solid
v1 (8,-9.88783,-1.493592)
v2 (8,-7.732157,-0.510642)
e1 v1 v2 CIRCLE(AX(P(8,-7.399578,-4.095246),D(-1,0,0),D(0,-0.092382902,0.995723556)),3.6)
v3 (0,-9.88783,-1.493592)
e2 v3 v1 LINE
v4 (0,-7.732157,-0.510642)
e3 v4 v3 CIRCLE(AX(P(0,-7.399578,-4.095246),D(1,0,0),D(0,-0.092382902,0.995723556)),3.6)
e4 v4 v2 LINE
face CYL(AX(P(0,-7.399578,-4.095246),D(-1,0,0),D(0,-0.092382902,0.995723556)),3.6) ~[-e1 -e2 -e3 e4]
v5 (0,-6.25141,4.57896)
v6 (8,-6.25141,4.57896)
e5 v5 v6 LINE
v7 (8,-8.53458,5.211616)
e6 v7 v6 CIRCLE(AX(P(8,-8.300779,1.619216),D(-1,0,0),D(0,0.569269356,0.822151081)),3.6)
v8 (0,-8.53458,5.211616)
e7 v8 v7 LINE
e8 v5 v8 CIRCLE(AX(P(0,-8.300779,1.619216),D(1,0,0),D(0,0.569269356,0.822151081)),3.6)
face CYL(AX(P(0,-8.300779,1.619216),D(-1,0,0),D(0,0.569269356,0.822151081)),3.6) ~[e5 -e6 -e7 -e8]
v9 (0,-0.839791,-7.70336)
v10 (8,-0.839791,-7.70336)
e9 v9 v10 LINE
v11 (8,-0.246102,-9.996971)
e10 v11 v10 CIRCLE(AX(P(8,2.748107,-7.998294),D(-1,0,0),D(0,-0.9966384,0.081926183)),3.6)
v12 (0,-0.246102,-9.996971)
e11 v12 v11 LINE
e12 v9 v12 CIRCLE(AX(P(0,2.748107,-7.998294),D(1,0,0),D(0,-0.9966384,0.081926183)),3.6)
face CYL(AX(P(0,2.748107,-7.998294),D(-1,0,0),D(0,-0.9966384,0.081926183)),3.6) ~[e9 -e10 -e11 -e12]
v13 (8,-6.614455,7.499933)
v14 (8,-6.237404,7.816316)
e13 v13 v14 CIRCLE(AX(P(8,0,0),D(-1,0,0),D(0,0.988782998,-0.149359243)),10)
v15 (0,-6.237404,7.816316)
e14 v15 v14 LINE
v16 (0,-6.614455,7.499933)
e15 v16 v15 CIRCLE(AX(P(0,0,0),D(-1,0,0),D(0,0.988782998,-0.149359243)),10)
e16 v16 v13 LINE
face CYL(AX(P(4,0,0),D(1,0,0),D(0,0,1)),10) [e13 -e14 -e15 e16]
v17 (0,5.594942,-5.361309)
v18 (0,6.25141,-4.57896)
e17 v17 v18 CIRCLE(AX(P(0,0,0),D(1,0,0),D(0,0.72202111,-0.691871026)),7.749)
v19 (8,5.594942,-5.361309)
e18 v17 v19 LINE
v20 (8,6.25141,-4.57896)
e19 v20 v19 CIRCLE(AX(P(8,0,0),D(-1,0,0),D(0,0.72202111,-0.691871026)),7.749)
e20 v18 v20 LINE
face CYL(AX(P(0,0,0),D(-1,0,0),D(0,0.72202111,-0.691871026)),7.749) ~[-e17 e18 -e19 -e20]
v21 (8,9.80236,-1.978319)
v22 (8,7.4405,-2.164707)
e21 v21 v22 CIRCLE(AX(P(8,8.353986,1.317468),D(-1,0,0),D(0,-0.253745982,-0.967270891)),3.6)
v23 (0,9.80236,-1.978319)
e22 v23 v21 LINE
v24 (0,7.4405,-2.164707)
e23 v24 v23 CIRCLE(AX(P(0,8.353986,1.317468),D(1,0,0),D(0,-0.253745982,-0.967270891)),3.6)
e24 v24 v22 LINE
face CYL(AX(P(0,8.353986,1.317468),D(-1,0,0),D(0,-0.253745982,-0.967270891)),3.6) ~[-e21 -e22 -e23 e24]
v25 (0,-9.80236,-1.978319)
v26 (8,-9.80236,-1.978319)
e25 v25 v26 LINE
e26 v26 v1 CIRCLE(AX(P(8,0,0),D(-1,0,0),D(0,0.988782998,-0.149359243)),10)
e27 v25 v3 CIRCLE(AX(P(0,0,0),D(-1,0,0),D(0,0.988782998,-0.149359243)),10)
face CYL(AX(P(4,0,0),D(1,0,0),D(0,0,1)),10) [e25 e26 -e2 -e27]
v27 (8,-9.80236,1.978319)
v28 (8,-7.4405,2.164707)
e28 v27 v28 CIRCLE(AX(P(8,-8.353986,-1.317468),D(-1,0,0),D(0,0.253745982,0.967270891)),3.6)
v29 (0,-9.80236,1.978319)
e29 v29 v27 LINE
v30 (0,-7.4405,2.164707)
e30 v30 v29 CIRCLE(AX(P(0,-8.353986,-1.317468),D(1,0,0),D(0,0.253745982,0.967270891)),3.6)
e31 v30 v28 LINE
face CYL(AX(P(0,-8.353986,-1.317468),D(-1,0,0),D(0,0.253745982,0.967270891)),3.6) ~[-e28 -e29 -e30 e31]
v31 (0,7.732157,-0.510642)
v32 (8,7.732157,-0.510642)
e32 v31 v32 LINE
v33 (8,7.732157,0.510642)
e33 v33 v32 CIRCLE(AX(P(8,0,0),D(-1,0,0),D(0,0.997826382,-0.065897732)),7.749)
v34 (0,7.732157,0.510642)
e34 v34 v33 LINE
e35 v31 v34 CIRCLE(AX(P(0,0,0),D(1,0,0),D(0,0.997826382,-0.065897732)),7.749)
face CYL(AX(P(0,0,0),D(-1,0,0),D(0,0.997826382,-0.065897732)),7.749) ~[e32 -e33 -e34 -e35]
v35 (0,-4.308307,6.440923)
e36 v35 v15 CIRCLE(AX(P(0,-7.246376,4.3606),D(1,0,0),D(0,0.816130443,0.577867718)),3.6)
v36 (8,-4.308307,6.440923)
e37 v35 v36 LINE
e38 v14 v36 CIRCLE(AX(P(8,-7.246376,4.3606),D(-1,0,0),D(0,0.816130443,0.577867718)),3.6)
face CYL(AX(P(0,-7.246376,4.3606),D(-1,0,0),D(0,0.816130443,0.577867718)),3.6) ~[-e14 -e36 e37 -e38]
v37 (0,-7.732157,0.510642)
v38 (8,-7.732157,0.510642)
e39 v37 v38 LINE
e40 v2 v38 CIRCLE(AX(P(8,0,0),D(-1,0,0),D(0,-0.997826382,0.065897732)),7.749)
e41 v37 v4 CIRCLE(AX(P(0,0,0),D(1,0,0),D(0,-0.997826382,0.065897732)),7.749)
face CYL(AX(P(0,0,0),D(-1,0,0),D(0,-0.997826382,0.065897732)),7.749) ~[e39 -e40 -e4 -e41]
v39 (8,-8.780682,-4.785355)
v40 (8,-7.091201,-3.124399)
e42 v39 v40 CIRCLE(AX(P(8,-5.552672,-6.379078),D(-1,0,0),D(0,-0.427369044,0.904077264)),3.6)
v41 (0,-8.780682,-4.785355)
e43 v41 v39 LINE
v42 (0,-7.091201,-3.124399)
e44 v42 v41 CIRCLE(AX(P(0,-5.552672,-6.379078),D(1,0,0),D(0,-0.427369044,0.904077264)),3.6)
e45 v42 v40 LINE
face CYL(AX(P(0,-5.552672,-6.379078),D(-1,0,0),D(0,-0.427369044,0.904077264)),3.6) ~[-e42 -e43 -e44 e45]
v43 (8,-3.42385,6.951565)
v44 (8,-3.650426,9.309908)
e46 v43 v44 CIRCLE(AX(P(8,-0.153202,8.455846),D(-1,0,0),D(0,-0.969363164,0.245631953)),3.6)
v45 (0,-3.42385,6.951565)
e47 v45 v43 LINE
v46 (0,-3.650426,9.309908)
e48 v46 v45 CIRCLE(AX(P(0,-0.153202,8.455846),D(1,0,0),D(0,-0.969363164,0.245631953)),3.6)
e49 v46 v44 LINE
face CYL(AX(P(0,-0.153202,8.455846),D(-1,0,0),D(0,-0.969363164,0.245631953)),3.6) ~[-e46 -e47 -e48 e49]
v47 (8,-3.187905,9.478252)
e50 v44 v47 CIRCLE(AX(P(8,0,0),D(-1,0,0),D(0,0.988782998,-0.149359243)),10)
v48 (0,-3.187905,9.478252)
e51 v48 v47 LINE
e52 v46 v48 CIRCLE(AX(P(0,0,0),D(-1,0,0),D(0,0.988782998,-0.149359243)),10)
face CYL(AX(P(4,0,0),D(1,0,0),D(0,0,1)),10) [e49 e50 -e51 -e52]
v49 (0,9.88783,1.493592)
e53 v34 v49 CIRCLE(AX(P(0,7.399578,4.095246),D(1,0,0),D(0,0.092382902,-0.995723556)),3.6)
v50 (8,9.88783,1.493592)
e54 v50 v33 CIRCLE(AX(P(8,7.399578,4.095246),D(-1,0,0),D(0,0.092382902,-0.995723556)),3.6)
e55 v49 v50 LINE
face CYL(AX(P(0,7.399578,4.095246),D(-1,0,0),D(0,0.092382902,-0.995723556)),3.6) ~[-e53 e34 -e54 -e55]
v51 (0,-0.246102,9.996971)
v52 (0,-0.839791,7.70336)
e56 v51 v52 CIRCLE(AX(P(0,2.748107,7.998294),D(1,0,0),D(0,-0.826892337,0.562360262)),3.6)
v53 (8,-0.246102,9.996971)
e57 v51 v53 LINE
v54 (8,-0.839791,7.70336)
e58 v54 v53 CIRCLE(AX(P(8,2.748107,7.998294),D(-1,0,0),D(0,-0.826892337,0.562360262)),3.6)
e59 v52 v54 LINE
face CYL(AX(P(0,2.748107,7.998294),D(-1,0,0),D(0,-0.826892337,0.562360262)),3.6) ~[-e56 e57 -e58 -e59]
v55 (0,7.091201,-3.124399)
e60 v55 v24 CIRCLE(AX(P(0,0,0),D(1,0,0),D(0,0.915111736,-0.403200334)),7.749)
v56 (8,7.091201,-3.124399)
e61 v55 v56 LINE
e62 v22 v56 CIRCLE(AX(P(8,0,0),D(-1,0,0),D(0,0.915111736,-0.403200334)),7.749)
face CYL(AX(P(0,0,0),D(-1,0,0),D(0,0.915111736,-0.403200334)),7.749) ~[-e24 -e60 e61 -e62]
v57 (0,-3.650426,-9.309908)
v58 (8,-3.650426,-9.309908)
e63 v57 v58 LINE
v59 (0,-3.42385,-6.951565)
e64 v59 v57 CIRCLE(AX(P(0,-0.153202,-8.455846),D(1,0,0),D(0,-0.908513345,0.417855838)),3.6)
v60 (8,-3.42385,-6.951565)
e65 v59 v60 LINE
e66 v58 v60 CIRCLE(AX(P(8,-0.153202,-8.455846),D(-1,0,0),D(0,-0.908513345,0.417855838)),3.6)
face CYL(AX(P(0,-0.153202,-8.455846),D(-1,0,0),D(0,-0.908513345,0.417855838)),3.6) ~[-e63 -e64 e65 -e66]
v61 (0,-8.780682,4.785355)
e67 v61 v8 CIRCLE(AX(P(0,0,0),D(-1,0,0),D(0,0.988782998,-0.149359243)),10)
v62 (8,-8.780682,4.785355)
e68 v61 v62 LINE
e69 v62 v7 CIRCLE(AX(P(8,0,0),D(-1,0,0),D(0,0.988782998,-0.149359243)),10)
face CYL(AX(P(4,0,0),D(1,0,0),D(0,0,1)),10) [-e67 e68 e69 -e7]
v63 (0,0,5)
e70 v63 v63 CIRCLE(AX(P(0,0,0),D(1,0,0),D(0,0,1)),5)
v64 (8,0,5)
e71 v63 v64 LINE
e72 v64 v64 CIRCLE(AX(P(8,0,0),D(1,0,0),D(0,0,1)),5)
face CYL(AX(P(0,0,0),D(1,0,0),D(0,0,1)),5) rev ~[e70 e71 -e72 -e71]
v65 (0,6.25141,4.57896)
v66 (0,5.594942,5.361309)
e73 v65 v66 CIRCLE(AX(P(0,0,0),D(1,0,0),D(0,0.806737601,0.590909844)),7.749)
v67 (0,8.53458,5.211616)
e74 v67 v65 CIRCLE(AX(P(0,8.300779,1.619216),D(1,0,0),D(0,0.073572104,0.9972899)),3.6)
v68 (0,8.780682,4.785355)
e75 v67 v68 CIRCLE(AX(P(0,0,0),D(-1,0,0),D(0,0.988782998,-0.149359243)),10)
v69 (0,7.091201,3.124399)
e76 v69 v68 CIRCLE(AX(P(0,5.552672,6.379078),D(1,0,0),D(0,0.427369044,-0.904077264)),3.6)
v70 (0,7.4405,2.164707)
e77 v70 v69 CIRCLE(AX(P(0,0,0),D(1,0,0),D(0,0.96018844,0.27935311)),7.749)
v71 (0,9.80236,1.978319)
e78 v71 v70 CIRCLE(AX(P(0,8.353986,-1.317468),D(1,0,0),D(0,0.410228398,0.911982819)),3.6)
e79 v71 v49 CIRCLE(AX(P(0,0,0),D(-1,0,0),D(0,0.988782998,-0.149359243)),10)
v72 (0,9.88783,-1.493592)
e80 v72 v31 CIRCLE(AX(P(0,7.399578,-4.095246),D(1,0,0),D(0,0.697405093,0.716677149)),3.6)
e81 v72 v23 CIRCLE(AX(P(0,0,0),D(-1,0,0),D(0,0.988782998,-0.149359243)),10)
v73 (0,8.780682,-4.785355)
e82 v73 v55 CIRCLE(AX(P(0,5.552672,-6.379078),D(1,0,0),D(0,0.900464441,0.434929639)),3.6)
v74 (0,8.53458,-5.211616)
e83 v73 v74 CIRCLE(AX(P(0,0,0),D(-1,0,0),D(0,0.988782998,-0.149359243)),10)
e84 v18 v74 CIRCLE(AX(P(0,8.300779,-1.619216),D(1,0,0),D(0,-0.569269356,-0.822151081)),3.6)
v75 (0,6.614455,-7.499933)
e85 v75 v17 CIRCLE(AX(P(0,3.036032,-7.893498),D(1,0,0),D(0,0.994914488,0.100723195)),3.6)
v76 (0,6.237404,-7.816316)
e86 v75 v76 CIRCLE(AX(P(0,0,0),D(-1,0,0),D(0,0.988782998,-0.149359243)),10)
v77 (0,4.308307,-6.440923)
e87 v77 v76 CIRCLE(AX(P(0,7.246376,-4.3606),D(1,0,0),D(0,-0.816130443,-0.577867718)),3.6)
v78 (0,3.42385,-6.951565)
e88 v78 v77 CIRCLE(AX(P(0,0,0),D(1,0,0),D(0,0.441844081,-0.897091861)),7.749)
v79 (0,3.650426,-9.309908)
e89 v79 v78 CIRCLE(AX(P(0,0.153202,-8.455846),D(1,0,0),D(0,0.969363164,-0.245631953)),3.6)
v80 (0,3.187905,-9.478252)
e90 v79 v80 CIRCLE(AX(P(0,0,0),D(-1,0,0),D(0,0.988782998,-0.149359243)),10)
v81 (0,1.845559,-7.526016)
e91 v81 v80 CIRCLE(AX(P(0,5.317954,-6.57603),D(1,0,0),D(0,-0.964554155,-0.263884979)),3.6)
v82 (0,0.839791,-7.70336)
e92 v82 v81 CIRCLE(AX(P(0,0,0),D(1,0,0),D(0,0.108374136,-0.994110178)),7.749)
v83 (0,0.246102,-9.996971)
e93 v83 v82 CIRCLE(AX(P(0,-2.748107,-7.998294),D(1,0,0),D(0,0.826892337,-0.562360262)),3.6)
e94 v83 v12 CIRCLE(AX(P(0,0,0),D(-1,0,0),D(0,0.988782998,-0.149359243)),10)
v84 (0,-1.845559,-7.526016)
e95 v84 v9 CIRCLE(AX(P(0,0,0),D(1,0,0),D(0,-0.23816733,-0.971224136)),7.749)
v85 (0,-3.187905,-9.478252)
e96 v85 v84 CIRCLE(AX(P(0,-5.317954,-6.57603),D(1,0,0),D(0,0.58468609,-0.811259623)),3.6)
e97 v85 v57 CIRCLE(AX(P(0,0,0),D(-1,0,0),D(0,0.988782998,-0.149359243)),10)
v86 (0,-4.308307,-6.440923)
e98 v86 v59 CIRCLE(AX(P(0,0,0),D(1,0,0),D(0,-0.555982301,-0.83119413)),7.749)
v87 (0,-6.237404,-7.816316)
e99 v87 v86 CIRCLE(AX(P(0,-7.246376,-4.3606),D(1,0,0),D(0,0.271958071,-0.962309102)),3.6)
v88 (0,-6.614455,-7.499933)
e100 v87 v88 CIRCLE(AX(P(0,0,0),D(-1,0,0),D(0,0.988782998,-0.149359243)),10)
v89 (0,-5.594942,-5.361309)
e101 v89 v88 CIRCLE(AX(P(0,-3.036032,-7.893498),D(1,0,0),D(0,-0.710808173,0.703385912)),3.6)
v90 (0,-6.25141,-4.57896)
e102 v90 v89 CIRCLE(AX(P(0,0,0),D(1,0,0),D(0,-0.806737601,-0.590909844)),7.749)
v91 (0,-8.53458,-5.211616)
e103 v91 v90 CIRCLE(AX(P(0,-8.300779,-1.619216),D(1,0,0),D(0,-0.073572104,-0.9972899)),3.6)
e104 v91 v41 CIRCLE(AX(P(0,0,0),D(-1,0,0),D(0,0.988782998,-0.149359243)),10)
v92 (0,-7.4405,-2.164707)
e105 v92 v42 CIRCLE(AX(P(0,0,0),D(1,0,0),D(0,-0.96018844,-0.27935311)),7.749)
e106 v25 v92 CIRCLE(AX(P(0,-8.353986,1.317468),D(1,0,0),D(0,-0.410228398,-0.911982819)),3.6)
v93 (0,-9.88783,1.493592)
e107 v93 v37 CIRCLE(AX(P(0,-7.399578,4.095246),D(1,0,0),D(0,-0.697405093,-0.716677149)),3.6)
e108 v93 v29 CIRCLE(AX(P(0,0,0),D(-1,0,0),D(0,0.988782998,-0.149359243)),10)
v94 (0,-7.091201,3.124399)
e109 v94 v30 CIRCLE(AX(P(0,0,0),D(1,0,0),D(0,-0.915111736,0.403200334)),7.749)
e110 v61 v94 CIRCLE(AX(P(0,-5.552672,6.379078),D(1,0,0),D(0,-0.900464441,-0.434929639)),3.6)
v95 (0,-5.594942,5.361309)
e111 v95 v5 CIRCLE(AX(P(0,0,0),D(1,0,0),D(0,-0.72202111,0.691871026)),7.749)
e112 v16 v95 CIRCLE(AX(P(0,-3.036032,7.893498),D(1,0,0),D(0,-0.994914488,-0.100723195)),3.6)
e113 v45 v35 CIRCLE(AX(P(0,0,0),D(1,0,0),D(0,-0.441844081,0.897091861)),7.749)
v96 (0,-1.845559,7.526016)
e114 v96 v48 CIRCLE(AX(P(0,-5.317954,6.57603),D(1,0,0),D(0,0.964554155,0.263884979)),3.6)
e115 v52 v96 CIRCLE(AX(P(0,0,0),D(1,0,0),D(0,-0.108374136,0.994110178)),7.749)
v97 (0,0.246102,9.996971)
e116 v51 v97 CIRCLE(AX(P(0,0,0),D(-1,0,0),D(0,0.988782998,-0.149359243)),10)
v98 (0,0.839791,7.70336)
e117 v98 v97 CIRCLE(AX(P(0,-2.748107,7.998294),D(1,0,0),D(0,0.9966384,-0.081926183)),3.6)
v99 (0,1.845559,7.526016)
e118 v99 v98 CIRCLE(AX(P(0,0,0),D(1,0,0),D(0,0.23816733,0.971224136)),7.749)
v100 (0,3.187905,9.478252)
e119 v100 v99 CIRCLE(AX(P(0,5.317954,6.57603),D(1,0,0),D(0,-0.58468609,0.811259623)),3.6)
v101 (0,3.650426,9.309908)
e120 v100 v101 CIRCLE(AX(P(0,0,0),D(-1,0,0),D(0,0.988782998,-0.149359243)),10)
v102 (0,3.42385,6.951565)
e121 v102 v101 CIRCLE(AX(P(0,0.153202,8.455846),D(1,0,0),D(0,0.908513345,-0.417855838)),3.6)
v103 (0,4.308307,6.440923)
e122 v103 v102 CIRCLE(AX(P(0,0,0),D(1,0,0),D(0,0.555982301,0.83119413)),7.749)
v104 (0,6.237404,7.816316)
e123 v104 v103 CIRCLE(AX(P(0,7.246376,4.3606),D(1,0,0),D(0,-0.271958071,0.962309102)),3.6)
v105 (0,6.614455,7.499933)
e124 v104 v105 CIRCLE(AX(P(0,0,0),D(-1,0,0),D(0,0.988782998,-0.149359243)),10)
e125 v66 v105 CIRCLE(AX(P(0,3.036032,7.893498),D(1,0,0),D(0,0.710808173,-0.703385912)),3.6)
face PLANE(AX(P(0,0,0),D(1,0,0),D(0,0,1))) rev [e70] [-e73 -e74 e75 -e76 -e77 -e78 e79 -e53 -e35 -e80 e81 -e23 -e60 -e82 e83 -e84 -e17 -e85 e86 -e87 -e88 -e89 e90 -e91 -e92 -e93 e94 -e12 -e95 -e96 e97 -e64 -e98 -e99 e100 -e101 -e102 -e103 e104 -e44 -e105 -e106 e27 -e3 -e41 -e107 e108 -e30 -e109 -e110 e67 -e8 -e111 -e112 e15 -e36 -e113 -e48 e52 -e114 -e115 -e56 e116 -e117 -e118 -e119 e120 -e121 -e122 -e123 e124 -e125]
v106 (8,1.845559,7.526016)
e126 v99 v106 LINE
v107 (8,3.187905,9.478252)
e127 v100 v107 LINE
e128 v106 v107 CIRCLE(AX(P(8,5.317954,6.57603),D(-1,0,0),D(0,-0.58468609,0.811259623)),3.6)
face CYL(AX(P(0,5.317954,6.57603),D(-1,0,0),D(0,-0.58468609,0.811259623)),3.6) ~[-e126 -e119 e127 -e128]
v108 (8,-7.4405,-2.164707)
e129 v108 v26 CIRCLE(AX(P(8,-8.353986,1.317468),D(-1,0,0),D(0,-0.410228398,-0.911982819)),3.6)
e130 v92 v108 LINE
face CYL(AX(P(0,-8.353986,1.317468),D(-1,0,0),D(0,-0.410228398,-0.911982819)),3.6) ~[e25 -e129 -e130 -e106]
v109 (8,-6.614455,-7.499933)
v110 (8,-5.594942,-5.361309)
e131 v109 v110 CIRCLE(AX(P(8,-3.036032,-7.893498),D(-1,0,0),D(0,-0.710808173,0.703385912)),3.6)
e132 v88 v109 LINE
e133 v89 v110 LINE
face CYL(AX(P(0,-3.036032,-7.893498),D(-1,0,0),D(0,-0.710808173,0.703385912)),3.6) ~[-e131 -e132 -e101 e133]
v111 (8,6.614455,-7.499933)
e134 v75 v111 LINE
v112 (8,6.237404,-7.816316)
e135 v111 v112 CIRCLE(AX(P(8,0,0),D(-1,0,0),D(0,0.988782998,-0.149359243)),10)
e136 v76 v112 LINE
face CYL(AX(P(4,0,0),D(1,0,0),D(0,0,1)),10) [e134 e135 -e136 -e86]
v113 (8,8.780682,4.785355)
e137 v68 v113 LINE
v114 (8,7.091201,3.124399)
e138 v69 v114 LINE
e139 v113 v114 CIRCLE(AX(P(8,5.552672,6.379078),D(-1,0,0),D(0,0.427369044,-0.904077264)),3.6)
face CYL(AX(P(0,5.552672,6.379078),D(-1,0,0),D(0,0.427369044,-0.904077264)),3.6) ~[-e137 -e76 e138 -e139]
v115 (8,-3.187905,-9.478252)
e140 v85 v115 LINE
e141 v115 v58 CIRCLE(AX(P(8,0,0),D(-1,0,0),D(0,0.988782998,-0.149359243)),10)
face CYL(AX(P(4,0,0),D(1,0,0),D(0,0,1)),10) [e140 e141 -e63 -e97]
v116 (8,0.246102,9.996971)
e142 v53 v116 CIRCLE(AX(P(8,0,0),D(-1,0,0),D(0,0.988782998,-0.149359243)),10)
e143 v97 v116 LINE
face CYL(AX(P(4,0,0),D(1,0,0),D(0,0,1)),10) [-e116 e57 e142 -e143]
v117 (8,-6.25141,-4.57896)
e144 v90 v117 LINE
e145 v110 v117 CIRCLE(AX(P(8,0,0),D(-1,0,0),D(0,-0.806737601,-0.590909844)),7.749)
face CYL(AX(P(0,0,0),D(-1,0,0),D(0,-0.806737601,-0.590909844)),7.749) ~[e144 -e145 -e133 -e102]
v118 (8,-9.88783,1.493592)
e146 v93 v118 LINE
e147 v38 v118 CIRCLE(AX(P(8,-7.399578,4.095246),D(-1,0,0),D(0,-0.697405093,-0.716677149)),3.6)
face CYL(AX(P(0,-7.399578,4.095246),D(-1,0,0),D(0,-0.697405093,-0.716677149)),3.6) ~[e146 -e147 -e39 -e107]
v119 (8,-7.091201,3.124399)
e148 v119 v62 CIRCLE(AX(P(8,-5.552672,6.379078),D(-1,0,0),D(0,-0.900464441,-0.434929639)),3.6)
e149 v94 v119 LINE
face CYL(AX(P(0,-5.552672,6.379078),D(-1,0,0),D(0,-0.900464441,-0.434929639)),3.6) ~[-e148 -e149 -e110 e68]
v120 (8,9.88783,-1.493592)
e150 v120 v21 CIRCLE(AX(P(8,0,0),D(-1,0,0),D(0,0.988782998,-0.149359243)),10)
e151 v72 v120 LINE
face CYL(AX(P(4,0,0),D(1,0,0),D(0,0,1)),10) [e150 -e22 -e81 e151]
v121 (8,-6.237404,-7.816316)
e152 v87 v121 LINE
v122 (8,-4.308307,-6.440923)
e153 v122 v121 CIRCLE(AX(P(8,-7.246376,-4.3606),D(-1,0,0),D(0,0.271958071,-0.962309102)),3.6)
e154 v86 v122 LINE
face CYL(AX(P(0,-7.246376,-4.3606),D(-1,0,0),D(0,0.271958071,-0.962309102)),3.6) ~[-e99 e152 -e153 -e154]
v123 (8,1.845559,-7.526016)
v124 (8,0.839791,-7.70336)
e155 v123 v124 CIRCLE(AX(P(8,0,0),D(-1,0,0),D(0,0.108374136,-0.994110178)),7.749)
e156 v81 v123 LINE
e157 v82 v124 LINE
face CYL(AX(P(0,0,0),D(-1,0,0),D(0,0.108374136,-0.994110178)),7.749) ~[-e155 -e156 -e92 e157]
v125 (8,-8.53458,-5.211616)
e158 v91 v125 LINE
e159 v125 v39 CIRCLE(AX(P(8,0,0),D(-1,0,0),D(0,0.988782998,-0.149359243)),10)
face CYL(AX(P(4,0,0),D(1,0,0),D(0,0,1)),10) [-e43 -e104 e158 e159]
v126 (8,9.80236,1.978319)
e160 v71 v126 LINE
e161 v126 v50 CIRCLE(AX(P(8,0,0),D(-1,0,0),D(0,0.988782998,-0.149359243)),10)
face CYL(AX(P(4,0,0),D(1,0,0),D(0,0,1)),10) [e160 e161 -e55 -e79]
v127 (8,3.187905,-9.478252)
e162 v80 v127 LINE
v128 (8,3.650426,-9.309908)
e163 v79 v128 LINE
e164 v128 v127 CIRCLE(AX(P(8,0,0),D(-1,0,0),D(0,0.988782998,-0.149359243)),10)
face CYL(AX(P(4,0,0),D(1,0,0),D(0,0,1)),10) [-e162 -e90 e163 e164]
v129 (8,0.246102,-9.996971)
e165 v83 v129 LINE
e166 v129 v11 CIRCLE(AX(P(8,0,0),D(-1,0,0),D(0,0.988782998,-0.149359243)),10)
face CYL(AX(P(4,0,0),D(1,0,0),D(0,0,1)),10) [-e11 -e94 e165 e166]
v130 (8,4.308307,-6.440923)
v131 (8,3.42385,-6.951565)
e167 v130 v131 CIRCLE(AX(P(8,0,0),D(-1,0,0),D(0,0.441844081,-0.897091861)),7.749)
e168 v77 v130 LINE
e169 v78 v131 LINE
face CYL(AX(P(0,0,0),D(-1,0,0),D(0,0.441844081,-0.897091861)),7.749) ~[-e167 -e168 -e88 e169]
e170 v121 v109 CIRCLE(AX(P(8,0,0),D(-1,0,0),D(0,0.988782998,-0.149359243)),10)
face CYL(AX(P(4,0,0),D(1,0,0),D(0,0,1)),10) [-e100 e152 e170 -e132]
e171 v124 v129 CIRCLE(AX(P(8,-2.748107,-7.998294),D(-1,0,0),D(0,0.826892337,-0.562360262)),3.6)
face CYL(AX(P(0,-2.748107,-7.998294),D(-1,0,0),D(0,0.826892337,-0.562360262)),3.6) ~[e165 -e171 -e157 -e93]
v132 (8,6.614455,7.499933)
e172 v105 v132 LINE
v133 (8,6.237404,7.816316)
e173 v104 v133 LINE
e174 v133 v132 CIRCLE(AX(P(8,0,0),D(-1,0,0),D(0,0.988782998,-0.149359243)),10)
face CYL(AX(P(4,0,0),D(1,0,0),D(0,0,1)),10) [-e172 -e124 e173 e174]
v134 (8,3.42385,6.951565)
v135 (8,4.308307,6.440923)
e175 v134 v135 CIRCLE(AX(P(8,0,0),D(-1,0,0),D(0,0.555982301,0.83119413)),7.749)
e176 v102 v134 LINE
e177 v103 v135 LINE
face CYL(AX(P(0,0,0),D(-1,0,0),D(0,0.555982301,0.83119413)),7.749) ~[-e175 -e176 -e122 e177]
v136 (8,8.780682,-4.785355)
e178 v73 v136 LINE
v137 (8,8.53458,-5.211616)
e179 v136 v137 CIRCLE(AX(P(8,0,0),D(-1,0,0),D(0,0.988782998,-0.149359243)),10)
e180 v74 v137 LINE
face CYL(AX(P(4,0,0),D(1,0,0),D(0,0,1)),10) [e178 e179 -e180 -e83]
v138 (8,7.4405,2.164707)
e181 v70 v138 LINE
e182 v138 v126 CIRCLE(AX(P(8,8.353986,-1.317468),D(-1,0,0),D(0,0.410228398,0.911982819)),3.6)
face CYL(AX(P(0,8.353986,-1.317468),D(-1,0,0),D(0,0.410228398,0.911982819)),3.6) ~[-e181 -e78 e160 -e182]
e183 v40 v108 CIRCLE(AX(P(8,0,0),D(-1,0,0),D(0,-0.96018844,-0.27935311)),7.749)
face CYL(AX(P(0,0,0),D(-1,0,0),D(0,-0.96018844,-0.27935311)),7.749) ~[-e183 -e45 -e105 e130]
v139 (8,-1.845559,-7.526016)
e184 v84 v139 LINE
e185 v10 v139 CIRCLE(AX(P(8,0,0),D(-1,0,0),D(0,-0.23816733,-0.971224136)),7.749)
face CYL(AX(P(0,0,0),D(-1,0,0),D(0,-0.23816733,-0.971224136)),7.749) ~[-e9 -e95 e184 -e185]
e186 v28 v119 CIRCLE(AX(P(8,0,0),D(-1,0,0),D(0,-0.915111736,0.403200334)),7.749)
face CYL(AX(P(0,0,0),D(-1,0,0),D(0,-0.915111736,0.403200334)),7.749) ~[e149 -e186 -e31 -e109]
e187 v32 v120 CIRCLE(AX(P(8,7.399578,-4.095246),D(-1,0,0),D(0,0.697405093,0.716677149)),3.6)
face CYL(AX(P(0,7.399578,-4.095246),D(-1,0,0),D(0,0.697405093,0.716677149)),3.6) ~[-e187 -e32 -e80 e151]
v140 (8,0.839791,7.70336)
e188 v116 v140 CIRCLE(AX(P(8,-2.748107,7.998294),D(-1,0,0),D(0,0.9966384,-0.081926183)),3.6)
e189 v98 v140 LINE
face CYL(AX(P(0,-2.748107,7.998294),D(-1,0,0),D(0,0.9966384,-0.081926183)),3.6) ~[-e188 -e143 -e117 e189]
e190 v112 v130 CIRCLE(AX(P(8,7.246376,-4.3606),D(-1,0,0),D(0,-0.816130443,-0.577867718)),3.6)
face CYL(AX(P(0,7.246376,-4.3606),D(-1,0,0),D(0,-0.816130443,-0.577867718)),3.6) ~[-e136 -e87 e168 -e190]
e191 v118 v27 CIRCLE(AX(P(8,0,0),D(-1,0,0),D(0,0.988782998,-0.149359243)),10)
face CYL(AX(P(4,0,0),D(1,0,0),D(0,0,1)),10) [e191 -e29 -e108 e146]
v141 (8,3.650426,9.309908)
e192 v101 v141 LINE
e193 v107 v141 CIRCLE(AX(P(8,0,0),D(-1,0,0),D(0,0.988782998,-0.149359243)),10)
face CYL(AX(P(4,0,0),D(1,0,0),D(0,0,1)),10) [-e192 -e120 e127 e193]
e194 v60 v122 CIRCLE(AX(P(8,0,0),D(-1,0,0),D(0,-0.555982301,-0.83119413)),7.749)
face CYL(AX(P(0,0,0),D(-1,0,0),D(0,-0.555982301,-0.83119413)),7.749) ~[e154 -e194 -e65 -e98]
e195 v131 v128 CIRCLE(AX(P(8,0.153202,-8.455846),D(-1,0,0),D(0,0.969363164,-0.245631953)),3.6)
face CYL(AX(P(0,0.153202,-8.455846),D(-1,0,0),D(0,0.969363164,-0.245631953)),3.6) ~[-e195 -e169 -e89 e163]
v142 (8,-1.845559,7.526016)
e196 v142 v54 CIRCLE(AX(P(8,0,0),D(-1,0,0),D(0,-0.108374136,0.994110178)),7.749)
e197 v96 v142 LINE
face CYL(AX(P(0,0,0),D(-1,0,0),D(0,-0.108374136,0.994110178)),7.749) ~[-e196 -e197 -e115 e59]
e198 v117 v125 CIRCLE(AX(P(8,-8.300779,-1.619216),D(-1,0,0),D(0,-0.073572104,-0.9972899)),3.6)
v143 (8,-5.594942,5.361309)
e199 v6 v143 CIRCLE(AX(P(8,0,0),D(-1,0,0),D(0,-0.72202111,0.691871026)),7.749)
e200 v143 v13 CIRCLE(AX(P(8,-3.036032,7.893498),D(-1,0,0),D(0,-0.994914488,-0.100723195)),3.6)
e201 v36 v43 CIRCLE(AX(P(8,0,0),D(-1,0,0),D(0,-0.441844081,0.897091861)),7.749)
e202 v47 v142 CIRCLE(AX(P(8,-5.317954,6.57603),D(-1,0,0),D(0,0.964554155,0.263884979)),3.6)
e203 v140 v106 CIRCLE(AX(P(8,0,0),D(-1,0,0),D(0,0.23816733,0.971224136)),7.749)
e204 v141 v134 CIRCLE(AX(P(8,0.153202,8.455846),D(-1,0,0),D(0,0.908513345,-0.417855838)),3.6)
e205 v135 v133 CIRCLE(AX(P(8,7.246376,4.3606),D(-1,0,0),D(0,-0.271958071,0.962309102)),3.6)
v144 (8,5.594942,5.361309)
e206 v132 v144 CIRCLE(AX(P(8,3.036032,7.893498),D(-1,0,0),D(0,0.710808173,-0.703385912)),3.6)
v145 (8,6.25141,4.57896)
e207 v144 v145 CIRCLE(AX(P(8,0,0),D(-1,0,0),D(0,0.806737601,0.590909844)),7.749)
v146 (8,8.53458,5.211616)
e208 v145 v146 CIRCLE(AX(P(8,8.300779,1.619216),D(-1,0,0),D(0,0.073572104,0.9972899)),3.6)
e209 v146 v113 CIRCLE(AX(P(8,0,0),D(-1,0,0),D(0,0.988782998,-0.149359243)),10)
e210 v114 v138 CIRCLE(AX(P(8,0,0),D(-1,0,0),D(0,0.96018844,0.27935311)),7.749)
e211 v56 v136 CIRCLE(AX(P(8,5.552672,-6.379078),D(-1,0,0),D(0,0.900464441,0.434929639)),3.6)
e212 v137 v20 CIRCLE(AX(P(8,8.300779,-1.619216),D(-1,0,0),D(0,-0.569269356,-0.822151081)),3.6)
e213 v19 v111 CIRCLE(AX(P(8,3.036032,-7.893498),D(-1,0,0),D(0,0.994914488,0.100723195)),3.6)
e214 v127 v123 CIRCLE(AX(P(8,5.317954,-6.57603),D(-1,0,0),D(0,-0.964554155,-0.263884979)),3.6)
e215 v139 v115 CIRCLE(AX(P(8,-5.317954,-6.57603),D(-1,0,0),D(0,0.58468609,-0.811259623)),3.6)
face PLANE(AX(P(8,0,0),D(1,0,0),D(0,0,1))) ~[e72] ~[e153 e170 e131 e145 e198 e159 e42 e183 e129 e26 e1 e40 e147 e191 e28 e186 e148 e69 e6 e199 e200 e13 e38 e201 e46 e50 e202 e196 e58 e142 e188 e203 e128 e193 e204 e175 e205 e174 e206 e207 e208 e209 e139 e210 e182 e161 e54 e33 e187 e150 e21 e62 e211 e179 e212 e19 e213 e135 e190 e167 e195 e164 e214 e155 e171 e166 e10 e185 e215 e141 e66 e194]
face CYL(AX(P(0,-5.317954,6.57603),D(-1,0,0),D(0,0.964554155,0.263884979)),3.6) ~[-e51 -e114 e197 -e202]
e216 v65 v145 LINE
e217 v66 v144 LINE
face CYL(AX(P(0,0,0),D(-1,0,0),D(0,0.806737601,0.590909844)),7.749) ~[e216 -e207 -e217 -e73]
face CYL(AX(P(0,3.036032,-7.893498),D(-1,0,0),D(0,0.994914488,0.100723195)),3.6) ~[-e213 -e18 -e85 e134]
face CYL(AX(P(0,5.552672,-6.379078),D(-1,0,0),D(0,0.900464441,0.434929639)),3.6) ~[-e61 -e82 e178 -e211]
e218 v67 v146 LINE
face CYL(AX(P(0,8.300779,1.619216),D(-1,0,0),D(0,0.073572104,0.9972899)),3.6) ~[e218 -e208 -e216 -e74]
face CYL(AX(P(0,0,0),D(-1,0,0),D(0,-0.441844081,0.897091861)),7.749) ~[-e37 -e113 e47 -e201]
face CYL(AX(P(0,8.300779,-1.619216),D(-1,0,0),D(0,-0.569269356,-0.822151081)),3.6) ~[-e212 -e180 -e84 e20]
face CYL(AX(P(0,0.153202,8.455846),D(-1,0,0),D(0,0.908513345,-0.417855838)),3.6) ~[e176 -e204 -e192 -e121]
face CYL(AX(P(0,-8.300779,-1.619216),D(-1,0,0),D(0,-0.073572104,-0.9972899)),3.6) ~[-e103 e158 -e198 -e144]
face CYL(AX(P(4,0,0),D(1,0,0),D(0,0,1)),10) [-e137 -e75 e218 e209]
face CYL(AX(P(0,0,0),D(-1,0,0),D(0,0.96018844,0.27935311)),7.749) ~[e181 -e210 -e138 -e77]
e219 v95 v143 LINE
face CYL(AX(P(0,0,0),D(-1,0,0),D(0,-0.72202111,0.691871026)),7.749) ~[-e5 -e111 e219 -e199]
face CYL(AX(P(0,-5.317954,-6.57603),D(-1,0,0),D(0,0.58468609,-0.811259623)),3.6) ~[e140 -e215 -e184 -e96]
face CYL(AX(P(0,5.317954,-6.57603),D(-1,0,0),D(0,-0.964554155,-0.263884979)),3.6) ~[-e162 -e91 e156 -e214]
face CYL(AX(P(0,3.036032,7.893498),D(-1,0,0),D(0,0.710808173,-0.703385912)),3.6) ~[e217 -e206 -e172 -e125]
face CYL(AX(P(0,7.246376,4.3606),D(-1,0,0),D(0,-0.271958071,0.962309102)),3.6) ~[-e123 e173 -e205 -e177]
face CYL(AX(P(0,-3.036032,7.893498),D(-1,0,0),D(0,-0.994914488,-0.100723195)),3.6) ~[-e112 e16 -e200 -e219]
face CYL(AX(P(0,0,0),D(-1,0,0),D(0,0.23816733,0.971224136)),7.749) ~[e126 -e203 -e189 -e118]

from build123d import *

# Parameters (mm, degrees)
BASPROSKE_W     = 8
BASPROSKE_H     = 10
TOOTHCUT_DEPTH  = 17.248076809
TEETHCUTS_COUNT = 18
TEETHCUTS_ANGLE = 340
BORSKE_R        = 5
BORE_DEPTH      = 50.0000508


with BuildPart() as part:
    # BasProSke → Base-Revolve (revolve)
    with BuildSketch(Plane(origin=(0, 0, 0), x_dir=(1, 0, 0), z_dir=(0, 1, 0)), mode=Mode.PRIVATE) as base_revolve_sk:
        with Locations((4, 5)):
            Rectangle(BASPROSKE_W, BASPROSKE_H)
    revolve(base_revolve_sk.sketch.rotate(Axis((-10, 0, 0), (1, 0, 0)), 180), axis=Axis((-10, 0, 0), (1, 0, 0)))

    # TooCutSke → ToothCut (cut, through all)
    with BuildSketch(Plane(origin=(0, 0, 0), x_dir=(0, 0, -1), z_dir=(1, 0, 0))):
        with BuildLine():
            ThreePointArc((0.510641536, 7.732156635), (0, 7.749), (-0.510641536, 7.732156635))
            ThreePointArc((-0.510641536, 7.732156635), (-0.82619259, 8.907320741), (-1.515208602, 9.910236529))
            ThreePointArc((-1.515208602, 9.910236529), (0, 10.0254), (1.515208602, 9.910236529))
            ThreePointArc((1.515208602, 9.910236529), (0.82619259, 8.907320741), (0.510641536, 7.732156635))
        make_face()
    toothcut = extrude(amount=TOOTHCUT_DEPTH, mode=Mode.SUBTRACT)

    # TeethCuts: ToothCut ×18 about axis
    teethcuts_axis = Axis((-10, 0, 0), (1, 0, 0))
    for i in range(1, TEETHCUTS_COUNT):
        add(toothcut.rotate(teethcuts_axis, i * TEETHCUTS_ANGLE / (TEETHCUTS_COUNT - 1)), mode=Mode.SUBTRACT)

    # BorSke → Bore (cut, symmetric)
    with BuildSketch(Plane(origin=(0, 0, 0), x_dir=(0, 0, -1), z_dir=(1, 0, 0))):
        with Locations(Location((0, 0, 0), (0, 0, 180))):
            Circle(BORSKE_R)
    extrude(amount=BORE_DEPTH, both=True, mode=Mode.SUBTRACT)


solid = part.part
